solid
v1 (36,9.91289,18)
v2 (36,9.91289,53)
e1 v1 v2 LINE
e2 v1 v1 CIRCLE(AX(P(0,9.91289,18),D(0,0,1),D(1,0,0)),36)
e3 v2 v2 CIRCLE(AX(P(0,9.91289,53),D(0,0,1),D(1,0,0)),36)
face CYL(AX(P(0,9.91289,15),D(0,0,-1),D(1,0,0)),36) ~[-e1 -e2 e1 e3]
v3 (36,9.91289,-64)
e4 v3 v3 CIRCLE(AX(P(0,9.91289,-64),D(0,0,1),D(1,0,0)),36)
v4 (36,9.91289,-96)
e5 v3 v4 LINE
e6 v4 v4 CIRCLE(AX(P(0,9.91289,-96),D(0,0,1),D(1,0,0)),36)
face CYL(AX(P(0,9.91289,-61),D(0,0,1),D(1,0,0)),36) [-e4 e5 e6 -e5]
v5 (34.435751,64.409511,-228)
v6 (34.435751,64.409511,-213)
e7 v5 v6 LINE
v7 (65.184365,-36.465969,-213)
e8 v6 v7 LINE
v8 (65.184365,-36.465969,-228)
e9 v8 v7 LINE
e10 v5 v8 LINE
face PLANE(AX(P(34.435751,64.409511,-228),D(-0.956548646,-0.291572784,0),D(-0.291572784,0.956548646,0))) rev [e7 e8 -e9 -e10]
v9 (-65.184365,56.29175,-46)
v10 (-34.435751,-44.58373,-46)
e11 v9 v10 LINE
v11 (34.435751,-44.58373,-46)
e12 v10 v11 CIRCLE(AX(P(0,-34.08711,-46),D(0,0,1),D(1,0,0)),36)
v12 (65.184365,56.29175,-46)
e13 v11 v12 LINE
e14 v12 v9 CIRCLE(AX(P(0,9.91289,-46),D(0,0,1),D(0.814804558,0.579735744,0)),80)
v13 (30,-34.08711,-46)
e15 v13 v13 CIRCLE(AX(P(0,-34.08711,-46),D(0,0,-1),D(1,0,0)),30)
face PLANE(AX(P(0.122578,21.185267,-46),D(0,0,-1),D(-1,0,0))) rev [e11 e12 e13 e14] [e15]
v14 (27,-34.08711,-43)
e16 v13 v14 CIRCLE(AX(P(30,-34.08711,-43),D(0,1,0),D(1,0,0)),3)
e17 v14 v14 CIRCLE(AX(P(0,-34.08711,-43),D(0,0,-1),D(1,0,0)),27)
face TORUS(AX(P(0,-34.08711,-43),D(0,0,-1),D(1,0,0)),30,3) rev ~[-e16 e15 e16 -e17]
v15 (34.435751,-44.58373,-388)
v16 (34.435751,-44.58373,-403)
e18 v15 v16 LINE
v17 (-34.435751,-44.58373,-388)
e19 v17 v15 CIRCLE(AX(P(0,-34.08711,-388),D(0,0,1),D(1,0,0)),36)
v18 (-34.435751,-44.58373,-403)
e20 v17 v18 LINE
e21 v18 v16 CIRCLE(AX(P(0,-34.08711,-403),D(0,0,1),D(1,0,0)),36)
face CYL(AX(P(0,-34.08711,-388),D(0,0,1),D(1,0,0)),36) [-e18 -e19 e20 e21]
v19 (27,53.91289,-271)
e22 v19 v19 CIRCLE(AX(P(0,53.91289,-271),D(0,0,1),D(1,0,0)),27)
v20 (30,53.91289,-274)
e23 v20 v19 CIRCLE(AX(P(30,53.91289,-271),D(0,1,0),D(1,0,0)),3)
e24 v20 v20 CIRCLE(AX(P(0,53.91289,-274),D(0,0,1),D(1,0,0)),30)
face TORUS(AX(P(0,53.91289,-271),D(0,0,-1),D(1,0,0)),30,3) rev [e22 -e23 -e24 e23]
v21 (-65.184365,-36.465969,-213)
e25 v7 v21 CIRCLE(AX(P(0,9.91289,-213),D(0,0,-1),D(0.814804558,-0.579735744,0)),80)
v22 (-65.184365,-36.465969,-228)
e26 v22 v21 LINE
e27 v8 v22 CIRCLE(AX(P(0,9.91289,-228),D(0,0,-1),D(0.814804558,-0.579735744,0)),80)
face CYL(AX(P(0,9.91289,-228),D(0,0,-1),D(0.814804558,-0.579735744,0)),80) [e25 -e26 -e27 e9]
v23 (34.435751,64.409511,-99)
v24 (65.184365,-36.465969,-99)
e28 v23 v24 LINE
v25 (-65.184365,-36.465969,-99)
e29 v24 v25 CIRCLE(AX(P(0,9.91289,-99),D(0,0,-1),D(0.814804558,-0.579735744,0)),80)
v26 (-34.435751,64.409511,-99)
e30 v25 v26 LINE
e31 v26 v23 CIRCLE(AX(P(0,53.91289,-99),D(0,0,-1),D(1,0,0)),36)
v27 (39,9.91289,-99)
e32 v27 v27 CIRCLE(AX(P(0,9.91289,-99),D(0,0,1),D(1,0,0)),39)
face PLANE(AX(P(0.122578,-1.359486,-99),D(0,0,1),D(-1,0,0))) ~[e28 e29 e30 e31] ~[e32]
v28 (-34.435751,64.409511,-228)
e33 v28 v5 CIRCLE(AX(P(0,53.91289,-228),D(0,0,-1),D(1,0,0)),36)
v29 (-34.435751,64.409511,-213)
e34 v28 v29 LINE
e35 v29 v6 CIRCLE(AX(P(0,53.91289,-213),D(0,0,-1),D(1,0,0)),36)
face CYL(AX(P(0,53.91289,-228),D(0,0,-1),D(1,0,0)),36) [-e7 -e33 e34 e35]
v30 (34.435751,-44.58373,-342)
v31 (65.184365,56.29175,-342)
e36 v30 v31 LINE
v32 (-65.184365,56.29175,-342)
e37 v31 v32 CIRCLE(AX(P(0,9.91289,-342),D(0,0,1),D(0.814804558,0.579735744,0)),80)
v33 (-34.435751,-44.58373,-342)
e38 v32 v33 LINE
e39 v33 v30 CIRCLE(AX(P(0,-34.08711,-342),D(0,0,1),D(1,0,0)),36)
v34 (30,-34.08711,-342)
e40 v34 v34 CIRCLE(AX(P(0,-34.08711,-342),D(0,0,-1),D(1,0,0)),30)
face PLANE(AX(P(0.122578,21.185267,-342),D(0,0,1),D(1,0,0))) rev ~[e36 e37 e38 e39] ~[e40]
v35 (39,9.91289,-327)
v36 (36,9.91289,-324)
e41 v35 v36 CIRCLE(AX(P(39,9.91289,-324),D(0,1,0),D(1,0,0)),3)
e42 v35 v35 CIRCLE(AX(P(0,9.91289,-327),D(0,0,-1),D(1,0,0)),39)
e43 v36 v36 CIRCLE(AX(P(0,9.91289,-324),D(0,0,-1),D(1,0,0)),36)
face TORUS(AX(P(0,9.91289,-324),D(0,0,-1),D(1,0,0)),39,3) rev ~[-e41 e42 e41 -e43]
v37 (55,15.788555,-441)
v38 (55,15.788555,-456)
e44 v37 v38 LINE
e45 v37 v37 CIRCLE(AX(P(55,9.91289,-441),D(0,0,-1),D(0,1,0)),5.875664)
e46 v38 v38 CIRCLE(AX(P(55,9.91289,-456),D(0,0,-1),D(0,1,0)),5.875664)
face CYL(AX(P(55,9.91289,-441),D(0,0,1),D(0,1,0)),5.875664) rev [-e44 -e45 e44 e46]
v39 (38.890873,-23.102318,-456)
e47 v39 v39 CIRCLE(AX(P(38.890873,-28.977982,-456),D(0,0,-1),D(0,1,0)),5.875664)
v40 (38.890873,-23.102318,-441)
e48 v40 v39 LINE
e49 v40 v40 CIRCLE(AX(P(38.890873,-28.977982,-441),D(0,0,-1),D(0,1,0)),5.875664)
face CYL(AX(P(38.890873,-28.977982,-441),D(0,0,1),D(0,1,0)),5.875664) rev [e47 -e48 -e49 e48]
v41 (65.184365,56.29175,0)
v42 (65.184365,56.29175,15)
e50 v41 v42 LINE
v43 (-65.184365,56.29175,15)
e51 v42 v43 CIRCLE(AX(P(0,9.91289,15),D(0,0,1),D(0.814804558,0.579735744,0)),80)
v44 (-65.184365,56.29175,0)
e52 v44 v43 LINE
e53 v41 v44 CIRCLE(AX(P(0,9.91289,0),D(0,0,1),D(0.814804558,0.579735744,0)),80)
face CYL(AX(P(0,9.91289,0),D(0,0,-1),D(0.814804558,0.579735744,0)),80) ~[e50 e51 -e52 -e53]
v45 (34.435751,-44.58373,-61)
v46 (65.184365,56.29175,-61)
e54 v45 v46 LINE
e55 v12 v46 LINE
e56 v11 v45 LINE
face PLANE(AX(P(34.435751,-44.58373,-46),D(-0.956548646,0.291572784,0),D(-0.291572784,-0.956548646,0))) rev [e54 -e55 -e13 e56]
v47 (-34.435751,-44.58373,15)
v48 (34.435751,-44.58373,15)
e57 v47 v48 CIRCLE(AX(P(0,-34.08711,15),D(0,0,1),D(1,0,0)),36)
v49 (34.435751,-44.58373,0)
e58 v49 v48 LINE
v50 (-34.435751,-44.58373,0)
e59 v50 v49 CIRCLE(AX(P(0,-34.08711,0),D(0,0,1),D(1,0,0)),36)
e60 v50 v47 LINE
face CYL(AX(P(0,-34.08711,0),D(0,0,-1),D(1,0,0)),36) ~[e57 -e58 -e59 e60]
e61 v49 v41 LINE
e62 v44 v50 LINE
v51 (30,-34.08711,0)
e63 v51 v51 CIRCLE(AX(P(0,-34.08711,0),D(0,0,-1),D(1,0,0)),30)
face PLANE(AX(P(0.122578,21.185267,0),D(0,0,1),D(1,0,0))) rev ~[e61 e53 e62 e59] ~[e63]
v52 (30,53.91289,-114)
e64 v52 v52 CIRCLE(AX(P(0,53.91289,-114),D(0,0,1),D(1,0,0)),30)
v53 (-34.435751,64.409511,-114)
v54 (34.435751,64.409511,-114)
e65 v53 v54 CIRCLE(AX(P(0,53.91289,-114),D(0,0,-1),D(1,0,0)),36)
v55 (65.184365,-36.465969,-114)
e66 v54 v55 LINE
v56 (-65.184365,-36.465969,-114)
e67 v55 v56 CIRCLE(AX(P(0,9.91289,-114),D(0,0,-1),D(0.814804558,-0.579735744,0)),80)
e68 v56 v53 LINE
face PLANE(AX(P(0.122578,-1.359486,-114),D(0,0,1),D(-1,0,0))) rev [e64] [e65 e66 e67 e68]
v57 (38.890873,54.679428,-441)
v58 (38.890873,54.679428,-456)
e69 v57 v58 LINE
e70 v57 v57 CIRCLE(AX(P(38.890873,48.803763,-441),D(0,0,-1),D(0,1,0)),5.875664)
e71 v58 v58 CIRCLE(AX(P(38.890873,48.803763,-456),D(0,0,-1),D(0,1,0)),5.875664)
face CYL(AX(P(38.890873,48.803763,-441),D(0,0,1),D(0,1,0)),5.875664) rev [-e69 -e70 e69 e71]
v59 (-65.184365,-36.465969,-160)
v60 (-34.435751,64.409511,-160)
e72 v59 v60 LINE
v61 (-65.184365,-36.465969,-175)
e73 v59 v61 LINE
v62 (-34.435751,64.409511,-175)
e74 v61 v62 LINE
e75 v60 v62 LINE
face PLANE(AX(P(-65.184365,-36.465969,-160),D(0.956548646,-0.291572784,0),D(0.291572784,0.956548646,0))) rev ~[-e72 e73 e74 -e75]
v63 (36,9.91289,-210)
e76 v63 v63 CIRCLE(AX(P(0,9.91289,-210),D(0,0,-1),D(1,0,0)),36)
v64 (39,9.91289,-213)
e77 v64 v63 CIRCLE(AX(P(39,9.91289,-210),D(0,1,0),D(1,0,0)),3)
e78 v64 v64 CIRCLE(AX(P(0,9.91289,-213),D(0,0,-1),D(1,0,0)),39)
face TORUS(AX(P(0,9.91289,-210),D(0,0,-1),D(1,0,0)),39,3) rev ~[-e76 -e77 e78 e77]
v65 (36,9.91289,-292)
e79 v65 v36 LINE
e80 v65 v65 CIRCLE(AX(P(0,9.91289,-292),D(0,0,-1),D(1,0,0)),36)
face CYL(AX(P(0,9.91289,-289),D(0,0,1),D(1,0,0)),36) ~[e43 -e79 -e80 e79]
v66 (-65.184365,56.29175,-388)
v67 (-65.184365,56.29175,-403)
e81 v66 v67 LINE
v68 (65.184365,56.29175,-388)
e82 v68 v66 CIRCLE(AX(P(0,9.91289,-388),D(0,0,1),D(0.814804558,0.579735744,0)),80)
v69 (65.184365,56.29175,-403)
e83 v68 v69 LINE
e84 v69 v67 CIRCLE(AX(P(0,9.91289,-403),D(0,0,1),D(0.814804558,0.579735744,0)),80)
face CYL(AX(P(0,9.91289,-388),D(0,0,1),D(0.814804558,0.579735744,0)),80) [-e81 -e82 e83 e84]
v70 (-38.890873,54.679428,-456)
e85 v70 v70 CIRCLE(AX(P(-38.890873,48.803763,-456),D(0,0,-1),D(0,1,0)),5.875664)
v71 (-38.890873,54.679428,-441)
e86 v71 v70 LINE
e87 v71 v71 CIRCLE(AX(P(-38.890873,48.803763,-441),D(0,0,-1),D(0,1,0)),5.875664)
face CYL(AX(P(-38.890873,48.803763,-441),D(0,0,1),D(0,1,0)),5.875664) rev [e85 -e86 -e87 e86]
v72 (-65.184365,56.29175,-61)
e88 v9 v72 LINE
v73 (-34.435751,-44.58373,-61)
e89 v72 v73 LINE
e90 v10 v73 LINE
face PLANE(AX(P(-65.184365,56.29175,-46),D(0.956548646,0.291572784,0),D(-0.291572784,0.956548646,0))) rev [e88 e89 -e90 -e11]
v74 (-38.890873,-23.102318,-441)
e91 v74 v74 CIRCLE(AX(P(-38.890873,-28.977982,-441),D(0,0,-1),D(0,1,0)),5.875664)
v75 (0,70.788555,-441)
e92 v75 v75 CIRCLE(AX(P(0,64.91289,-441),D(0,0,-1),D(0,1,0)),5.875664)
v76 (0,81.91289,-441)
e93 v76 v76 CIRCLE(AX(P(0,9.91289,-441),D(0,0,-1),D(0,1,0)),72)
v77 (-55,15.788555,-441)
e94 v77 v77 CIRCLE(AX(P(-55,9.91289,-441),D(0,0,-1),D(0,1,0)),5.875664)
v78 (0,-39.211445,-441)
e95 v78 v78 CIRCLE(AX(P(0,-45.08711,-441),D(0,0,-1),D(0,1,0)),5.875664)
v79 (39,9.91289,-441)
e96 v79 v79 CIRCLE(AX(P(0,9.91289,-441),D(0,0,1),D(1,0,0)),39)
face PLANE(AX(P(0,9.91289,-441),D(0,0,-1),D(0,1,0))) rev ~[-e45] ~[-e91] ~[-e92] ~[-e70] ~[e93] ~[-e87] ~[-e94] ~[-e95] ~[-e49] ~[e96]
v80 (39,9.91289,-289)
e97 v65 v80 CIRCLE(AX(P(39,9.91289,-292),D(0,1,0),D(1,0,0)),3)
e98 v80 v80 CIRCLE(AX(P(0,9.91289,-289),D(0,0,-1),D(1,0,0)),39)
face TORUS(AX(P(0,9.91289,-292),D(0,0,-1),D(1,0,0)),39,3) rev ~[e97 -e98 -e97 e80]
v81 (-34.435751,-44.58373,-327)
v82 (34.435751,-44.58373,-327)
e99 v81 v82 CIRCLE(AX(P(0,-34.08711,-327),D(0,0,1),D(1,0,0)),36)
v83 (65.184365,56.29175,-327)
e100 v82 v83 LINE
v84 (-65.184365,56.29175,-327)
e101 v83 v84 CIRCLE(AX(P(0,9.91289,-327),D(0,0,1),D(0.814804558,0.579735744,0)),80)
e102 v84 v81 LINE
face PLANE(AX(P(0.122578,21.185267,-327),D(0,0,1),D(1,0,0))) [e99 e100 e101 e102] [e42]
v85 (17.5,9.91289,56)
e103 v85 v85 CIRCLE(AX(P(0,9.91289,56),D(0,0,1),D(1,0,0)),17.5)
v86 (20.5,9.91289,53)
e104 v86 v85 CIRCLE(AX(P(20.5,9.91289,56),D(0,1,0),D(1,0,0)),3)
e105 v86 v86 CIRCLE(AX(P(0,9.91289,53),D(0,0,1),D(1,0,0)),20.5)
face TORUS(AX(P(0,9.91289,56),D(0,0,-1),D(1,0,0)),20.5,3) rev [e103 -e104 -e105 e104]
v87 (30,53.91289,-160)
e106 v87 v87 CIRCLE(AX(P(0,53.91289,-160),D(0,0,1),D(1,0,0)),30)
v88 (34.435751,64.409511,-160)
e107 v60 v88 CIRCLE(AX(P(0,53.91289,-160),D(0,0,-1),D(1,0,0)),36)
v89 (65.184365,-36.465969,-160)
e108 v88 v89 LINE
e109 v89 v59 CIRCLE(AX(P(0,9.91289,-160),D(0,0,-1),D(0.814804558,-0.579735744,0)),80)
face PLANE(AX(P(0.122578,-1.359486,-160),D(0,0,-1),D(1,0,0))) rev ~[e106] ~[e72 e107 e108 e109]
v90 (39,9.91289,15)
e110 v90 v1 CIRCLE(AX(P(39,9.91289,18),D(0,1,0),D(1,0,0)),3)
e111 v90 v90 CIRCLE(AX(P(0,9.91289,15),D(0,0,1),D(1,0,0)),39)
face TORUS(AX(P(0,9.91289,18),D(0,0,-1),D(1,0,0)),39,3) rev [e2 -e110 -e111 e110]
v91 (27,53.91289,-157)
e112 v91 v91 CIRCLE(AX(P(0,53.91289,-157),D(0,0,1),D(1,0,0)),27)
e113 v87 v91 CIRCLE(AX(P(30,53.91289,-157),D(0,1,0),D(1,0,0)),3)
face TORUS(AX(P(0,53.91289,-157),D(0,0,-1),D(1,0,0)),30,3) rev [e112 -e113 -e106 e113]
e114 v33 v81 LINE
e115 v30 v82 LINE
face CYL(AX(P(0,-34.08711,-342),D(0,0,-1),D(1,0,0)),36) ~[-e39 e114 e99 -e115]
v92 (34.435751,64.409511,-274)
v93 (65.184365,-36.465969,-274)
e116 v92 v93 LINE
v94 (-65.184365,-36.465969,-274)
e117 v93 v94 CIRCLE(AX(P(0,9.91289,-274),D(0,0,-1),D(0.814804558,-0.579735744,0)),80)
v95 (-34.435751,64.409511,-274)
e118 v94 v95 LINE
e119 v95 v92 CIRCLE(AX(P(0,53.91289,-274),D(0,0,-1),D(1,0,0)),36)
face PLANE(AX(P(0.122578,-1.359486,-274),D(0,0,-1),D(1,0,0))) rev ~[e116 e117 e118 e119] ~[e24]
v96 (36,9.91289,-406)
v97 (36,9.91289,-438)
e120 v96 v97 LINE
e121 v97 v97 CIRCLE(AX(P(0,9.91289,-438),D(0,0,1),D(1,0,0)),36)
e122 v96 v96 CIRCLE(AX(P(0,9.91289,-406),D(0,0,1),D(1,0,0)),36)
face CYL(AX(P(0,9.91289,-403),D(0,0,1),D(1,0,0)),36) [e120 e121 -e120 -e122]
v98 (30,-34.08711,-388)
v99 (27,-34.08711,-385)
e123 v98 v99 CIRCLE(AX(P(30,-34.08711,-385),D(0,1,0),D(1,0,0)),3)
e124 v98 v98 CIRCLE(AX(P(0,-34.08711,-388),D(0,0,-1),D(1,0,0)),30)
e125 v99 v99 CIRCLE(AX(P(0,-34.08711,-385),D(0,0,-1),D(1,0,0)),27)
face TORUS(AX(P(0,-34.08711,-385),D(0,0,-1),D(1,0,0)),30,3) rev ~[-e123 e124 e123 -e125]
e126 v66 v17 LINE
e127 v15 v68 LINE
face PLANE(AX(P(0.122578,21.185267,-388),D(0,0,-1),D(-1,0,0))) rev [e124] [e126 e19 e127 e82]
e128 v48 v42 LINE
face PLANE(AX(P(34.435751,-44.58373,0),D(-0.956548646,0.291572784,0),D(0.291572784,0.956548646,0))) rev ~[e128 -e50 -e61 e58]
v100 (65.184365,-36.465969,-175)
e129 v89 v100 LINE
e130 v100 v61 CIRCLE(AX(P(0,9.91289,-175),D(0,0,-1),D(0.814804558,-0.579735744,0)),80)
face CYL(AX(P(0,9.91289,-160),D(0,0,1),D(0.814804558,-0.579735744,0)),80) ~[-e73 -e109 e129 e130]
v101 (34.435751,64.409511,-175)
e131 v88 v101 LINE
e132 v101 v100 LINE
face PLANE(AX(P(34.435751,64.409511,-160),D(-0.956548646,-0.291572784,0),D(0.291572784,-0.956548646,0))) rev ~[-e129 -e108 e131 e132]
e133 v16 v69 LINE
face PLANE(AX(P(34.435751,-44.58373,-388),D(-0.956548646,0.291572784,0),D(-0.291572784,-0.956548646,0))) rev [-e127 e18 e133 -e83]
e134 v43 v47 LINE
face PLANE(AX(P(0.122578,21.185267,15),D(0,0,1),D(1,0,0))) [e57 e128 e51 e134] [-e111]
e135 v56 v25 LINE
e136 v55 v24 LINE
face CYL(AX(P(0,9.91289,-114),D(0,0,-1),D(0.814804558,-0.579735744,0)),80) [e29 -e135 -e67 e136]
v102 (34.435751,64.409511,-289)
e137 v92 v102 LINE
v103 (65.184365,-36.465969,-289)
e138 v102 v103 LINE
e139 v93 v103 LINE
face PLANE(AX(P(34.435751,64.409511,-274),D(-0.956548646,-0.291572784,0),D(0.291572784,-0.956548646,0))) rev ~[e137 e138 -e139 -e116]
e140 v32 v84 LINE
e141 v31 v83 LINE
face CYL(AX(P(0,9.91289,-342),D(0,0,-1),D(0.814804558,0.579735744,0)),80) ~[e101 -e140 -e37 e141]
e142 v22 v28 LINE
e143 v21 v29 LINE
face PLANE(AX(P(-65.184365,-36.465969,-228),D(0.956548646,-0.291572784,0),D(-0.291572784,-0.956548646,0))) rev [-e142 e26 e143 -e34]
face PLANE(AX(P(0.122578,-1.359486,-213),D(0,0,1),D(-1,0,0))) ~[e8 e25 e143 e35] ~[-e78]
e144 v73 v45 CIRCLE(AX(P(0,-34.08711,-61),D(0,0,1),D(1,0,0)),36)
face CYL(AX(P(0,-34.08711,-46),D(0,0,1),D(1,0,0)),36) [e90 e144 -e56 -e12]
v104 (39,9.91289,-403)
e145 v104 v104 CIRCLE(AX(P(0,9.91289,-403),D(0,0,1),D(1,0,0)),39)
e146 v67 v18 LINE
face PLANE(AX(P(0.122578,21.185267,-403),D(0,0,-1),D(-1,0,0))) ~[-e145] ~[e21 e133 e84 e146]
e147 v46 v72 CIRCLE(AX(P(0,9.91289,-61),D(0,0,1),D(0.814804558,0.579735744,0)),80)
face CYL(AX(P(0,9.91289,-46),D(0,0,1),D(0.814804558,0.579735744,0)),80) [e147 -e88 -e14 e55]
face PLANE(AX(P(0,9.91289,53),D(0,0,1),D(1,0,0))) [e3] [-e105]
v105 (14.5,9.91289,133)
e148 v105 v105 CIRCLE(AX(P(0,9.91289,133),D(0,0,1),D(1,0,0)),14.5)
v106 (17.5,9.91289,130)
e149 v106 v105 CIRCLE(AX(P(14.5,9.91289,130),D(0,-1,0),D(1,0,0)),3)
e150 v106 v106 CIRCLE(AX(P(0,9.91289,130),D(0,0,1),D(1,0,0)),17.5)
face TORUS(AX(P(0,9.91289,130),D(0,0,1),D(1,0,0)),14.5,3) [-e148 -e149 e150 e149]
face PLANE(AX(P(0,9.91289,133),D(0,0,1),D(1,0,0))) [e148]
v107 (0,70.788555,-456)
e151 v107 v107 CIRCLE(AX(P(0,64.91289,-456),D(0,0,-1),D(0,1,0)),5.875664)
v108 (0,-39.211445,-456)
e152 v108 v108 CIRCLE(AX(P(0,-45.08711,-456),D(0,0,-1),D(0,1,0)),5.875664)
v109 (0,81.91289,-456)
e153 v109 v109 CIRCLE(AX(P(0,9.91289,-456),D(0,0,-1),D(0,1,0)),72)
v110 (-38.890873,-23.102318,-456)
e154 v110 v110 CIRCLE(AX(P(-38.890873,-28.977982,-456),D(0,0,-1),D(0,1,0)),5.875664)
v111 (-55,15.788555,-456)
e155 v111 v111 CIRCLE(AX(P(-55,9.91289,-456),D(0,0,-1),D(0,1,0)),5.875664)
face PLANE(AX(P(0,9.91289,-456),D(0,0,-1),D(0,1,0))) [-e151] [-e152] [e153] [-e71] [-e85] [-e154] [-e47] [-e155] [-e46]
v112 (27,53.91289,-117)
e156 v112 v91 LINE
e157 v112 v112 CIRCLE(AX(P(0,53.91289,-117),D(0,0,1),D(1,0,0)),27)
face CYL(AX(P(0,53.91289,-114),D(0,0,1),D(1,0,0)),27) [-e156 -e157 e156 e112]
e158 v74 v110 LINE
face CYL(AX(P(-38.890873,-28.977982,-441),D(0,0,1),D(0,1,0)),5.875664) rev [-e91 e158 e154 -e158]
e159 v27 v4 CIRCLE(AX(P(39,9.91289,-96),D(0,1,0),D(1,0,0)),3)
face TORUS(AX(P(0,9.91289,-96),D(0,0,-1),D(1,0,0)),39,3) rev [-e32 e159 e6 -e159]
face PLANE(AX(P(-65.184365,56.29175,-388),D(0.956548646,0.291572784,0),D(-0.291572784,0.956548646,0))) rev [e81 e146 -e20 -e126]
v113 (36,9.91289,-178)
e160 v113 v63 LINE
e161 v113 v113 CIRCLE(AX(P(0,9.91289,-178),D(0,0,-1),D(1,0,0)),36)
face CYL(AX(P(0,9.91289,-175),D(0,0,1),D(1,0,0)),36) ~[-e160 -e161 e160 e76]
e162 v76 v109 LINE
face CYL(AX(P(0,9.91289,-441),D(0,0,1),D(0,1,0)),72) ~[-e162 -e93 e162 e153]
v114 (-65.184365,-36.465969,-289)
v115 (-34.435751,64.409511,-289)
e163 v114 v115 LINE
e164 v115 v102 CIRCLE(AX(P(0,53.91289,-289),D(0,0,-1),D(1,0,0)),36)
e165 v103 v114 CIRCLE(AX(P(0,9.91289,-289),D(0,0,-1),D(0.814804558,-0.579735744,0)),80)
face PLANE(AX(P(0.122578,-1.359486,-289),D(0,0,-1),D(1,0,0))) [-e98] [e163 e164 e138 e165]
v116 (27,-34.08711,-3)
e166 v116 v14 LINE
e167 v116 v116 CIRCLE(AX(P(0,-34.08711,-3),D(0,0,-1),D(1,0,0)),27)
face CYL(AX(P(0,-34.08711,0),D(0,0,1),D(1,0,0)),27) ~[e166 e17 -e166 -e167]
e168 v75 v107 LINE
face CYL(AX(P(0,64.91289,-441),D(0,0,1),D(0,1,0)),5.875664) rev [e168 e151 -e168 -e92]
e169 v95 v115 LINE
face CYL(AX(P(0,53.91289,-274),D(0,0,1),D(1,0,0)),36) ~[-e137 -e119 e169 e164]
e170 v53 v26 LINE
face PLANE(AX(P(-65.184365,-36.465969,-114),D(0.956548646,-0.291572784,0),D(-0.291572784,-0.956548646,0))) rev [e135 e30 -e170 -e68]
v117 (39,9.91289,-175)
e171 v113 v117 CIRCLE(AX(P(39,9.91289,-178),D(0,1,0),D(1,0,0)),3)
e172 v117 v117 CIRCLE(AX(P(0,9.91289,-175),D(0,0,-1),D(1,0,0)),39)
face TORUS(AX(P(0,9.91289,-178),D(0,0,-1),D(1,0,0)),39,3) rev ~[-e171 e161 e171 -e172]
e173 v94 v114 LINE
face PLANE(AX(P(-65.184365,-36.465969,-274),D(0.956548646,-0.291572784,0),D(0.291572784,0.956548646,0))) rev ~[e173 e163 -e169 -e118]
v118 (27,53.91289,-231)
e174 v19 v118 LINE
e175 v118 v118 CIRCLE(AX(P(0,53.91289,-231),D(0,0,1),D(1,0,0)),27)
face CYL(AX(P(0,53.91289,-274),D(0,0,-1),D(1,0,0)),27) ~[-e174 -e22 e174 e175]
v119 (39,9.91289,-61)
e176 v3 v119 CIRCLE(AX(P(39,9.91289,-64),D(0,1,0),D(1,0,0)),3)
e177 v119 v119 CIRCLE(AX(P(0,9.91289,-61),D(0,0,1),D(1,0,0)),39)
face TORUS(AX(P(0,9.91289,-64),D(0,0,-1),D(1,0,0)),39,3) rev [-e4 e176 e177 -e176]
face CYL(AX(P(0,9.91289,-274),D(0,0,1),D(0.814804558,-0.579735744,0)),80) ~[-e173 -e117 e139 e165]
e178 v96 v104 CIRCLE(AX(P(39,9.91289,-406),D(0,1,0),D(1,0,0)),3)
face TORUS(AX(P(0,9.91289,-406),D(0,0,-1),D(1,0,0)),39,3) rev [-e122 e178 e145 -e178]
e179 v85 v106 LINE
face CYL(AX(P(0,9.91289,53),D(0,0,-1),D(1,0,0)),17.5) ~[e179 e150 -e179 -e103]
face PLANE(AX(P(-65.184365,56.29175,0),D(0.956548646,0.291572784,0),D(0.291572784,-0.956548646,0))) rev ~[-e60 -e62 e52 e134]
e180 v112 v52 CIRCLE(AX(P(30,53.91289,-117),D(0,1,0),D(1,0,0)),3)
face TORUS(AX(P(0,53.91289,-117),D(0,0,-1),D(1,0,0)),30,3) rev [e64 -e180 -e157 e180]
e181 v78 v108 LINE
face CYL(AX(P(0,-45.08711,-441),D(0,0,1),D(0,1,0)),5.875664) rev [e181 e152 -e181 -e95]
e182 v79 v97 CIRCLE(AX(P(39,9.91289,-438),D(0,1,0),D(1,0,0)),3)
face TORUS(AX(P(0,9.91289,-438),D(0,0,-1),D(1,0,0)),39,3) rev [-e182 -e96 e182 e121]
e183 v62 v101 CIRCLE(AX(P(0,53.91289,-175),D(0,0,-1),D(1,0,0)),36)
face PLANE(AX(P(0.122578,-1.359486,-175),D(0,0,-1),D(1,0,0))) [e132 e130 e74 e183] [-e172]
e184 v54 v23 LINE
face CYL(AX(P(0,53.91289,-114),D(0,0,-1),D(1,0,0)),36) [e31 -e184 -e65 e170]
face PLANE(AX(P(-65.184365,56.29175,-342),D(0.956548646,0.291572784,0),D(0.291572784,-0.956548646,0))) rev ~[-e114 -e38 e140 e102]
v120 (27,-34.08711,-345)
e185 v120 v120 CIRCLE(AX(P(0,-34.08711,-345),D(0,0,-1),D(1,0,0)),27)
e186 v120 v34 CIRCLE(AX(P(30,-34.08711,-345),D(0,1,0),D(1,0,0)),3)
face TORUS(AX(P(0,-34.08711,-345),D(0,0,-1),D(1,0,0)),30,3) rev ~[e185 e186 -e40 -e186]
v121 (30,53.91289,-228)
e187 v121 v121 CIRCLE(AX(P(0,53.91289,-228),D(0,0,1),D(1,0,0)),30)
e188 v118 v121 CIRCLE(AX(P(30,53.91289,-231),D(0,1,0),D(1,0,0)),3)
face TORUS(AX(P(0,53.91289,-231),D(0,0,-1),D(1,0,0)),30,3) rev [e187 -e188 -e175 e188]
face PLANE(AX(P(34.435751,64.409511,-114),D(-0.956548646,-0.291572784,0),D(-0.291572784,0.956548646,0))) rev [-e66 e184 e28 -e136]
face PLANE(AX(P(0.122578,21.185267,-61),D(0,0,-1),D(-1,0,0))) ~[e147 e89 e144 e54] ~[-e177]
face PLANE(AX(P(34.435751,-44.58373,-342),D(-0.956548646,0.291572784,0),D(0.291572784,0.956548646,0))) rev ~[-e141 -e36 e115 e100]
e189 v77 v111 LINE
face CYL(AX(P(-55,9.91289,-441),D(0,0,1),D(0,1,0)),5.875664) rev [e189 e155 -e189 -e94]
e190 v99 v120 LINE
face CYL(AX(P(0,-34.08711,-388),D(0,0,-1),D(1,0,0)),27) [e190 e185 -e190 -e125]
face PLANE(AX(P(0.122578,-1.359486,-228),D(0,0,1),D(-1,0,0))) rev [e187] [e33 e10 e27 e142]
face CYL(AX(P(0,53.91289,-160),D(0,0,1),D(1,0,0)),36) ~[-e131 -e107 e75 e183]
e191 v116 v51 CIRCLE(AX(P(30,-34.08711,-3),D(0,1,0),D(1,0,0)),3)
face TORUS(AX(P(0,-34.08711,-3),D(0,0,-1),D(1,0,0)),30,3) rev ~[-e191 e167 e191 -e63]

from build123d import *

# Parameters (mm, degrees)
SKETCH3_R             = 36
BOSS_EXTRUDE1_DEPTH   = 15
SKETCH4_R             = 27
BOSS_EXTRUDE2_DEPTH   = 46
SKETCH8_R             = 36
BOSS_EXTRUDE4_DEPTH   = 38
BODY_MOVE_COPY2_ANGLE = 180
SKETCH9_R             = 17.5
BOSS_EXTRUDE5_DEPTH   = 80
SKETCH10_R            = 72
SKETCH10_R_2          = 5.875664419
BOSS_EXTRUDE6_DEPTH   = 15
FILLET1_R             = 3


with BuildPart() as part:
    # Sketch3 → Boss-Extrude1 (new body)
    with BuildSketch(Plane.XY):
        with BuildLine():
            ThreePointArc((65.184364618, 56.291750003), (0, 89.912890494), (-65.184364618, 56.291750003))
            Line((-65.184364618, 56.291750003), (-34.435751244, -44.583729735))
            ThreePointArc((-34.435751244, -44.583729735), (-5.306267766, 1.519680891), (36, -34.087109506))
            ThreePointArc((36, -34.087109506), (35.606790397, -39.393377272), (34.435751244, -44.583729735))
            Line((34.435751244, -44.583729735), (65.184364618, 56.291750003))
        make_face()
        with Locations((0, -34.087109506)):
            Circle(SKETCH3_R)
    boss_extrude1 = extrude(amount=BOSS_EXTRUDE1_DEPTH)

    # Sketch4 → Boss-Extrude2 (add)
    with BuildSketch(Plane(origin=(0, 0, 0), x_dir=(-1, 0, 0), z_dir=(0, 0, -1))):
        with Locations(Location((0, -34.087109506, 0), (0, 0, 180))):
            Circle(SKETCH4_R)
    extrude(amount=BOSS_EXTRUDE2_DEPTH)

    # Sketch8 → Boss-Extrude4 (add)
    with BuildSketch(Plane.XY.offset(15)):
        with Locations((0, 9.912890494)):
            Circle(SKETCH8_R)
    boss_extrude4 = extrude(amount=BOSS_EXTRUDE4_DEPTH)

    # Mirror4: Boss-Extrude1, Boss-Extrude4 across plane
    add(boss_extrude1.mirror(Plane(origin=(0, 0, -23), x_dir=(1, 0, 0), z_dir=(0, 0, -1))))
    add(boss_extrude4.mirror(Plane(origin=(0, 0, -23), x_dir=(1, 0, 0), z_dir=(0, 0, -1))))


with BuildPart() as body_2:
    # Mirror5: mirrored copy
    add(part.part.mirror(Plane(origin=(0, 0, -80), x_dir=(1, 0, 0), z_dir=(0, 0, -1))))


with BuildPart() as body_2_1:
    # Body-Move/Copy2: moved
    add(body_2.part.rotate(Axis((0, 9.912890494, -137), (1, 0, 0)), BODY_MOVE_COPY2_ANGLE))


with BuildPart() as body_3:
    # Mirror6: mirrored copy
    add(body_2_1.part.mirror(Plane(origin=(0, 0, -194), x_dir=(1, 0, 0), z_dir=(0, 0, -1))))


with BuildPart() as body_4:
    # Mirror6 2: mirrored copy
    add(part.part.mirror(Plane(origin=(0, 0, -194), x_dir=(1, 0, 0), z_dir=(0, 0, -1))))

    # Sketch10 → Boss-Extrude6 (add)
    with BuildSketch(Plane(origin=(0, 0, -441), x_dir=(-1, 0, 0), z_dir=(0, 0, -1))):
        with Locations(Location((0, 9.912890494, 0), (0, 0, 90))):
            Circle(SKETCH10_R)
        with Locations(Location((0, 64.912890494, 0), (0, 0, 90))):
            Circle(SKETCH10_R_2, mode=Mode.SUBTRACT)
        with Locations(Location((38.890872965, 48.803763459, 0), (0, 0, 90))):
            Circle(SKETCH10_R_2, mode=Mode.SUBTRACT)
        with Locations(Location((55, 9.912890494, 0), (0, 0, 90))):
            Circle(SKETCH10_R_2, mode=Mode.SUBTRACT)
        with Locations(Location((38.890872965, -28.977982471, 0), (0, 0, 90))):
            Circle(SKETCH10_R_2, mode=Mode.SUBTRACT)
        with Locations(Location((0, -45.087109506, 0), (0, 0, 90))):
            Circle(SKETCH10_R_2, mode=Mode.SUBTRACT)
        with Locations(Location((-38.890872965, -28.977982471, 0), (0, 0, 90))):
            Circle(SKETCH10_R_2, mode=Mode.SUBTRACT)
        with Locations(Location((-55, 9.912890494, 0), (0, 0, 90))):
            Circle(SKETCH10_R_2, mode=Mode.SUBTRACT)
        with Locations(Location((-38.890872965, 48.803763459, 0), (0, 0, 90))):
            Circle(SKETCH10_R_2, mode=Mode.SUBTRACT)
    extrude(amount=BOSS_EXTRUDE6_DEPTH)


with BuildPart() as part_1:
    add(part.part)

    # Sketch9 → Boss-Extrude5 (add)
    with BuildSketch(Plane.XY.offset(53)):
        with Locations((0, 9.912890494)):
            Circle(SKETCH9_R)
    extrude(amount=BOSS_EXTRUDE5_DEPTH)

    # Combine1: union body 2, body 3, body 4
    add(body_2_1.part)
    add(body_3.part)
    add(body_4.part)

    # Fillet1
    fillet1_edges = [part_1.edges().sort_by_distance(p)[0] for p in [
        (-27, -34.087109506, 0),
        (-27, -34.087109506, -46),
        (-36, 9.912890494, 15),
        (-36, 9.912890494, -61),
        (-17.5, 9.912890494, 53),
        (-17.5, 9.912890494, 133),
        (-36, 9.912890494, -99),
        (-27, 53.912890494, -114),
        (-27, 53.912890494, -160),
        (-36, 9.912890494, -175),
        (-27, 53.912890494, -274),
        (-36, 9.912890494, -289),
        (-27, 53.912890494, -228),
        (-36, 9.912890494, -213),
        (-36, 9.912890494, -403),
        (-27, -34.087109506, -388),
        (-27, -34.087109506, -342),
        (-36, 9.912890494, -327),
        (-36, 9.912890494, -441),
    ]]
    fillet(fillet1_edges, radius=FILLET1_R)


solid = part_1.part
